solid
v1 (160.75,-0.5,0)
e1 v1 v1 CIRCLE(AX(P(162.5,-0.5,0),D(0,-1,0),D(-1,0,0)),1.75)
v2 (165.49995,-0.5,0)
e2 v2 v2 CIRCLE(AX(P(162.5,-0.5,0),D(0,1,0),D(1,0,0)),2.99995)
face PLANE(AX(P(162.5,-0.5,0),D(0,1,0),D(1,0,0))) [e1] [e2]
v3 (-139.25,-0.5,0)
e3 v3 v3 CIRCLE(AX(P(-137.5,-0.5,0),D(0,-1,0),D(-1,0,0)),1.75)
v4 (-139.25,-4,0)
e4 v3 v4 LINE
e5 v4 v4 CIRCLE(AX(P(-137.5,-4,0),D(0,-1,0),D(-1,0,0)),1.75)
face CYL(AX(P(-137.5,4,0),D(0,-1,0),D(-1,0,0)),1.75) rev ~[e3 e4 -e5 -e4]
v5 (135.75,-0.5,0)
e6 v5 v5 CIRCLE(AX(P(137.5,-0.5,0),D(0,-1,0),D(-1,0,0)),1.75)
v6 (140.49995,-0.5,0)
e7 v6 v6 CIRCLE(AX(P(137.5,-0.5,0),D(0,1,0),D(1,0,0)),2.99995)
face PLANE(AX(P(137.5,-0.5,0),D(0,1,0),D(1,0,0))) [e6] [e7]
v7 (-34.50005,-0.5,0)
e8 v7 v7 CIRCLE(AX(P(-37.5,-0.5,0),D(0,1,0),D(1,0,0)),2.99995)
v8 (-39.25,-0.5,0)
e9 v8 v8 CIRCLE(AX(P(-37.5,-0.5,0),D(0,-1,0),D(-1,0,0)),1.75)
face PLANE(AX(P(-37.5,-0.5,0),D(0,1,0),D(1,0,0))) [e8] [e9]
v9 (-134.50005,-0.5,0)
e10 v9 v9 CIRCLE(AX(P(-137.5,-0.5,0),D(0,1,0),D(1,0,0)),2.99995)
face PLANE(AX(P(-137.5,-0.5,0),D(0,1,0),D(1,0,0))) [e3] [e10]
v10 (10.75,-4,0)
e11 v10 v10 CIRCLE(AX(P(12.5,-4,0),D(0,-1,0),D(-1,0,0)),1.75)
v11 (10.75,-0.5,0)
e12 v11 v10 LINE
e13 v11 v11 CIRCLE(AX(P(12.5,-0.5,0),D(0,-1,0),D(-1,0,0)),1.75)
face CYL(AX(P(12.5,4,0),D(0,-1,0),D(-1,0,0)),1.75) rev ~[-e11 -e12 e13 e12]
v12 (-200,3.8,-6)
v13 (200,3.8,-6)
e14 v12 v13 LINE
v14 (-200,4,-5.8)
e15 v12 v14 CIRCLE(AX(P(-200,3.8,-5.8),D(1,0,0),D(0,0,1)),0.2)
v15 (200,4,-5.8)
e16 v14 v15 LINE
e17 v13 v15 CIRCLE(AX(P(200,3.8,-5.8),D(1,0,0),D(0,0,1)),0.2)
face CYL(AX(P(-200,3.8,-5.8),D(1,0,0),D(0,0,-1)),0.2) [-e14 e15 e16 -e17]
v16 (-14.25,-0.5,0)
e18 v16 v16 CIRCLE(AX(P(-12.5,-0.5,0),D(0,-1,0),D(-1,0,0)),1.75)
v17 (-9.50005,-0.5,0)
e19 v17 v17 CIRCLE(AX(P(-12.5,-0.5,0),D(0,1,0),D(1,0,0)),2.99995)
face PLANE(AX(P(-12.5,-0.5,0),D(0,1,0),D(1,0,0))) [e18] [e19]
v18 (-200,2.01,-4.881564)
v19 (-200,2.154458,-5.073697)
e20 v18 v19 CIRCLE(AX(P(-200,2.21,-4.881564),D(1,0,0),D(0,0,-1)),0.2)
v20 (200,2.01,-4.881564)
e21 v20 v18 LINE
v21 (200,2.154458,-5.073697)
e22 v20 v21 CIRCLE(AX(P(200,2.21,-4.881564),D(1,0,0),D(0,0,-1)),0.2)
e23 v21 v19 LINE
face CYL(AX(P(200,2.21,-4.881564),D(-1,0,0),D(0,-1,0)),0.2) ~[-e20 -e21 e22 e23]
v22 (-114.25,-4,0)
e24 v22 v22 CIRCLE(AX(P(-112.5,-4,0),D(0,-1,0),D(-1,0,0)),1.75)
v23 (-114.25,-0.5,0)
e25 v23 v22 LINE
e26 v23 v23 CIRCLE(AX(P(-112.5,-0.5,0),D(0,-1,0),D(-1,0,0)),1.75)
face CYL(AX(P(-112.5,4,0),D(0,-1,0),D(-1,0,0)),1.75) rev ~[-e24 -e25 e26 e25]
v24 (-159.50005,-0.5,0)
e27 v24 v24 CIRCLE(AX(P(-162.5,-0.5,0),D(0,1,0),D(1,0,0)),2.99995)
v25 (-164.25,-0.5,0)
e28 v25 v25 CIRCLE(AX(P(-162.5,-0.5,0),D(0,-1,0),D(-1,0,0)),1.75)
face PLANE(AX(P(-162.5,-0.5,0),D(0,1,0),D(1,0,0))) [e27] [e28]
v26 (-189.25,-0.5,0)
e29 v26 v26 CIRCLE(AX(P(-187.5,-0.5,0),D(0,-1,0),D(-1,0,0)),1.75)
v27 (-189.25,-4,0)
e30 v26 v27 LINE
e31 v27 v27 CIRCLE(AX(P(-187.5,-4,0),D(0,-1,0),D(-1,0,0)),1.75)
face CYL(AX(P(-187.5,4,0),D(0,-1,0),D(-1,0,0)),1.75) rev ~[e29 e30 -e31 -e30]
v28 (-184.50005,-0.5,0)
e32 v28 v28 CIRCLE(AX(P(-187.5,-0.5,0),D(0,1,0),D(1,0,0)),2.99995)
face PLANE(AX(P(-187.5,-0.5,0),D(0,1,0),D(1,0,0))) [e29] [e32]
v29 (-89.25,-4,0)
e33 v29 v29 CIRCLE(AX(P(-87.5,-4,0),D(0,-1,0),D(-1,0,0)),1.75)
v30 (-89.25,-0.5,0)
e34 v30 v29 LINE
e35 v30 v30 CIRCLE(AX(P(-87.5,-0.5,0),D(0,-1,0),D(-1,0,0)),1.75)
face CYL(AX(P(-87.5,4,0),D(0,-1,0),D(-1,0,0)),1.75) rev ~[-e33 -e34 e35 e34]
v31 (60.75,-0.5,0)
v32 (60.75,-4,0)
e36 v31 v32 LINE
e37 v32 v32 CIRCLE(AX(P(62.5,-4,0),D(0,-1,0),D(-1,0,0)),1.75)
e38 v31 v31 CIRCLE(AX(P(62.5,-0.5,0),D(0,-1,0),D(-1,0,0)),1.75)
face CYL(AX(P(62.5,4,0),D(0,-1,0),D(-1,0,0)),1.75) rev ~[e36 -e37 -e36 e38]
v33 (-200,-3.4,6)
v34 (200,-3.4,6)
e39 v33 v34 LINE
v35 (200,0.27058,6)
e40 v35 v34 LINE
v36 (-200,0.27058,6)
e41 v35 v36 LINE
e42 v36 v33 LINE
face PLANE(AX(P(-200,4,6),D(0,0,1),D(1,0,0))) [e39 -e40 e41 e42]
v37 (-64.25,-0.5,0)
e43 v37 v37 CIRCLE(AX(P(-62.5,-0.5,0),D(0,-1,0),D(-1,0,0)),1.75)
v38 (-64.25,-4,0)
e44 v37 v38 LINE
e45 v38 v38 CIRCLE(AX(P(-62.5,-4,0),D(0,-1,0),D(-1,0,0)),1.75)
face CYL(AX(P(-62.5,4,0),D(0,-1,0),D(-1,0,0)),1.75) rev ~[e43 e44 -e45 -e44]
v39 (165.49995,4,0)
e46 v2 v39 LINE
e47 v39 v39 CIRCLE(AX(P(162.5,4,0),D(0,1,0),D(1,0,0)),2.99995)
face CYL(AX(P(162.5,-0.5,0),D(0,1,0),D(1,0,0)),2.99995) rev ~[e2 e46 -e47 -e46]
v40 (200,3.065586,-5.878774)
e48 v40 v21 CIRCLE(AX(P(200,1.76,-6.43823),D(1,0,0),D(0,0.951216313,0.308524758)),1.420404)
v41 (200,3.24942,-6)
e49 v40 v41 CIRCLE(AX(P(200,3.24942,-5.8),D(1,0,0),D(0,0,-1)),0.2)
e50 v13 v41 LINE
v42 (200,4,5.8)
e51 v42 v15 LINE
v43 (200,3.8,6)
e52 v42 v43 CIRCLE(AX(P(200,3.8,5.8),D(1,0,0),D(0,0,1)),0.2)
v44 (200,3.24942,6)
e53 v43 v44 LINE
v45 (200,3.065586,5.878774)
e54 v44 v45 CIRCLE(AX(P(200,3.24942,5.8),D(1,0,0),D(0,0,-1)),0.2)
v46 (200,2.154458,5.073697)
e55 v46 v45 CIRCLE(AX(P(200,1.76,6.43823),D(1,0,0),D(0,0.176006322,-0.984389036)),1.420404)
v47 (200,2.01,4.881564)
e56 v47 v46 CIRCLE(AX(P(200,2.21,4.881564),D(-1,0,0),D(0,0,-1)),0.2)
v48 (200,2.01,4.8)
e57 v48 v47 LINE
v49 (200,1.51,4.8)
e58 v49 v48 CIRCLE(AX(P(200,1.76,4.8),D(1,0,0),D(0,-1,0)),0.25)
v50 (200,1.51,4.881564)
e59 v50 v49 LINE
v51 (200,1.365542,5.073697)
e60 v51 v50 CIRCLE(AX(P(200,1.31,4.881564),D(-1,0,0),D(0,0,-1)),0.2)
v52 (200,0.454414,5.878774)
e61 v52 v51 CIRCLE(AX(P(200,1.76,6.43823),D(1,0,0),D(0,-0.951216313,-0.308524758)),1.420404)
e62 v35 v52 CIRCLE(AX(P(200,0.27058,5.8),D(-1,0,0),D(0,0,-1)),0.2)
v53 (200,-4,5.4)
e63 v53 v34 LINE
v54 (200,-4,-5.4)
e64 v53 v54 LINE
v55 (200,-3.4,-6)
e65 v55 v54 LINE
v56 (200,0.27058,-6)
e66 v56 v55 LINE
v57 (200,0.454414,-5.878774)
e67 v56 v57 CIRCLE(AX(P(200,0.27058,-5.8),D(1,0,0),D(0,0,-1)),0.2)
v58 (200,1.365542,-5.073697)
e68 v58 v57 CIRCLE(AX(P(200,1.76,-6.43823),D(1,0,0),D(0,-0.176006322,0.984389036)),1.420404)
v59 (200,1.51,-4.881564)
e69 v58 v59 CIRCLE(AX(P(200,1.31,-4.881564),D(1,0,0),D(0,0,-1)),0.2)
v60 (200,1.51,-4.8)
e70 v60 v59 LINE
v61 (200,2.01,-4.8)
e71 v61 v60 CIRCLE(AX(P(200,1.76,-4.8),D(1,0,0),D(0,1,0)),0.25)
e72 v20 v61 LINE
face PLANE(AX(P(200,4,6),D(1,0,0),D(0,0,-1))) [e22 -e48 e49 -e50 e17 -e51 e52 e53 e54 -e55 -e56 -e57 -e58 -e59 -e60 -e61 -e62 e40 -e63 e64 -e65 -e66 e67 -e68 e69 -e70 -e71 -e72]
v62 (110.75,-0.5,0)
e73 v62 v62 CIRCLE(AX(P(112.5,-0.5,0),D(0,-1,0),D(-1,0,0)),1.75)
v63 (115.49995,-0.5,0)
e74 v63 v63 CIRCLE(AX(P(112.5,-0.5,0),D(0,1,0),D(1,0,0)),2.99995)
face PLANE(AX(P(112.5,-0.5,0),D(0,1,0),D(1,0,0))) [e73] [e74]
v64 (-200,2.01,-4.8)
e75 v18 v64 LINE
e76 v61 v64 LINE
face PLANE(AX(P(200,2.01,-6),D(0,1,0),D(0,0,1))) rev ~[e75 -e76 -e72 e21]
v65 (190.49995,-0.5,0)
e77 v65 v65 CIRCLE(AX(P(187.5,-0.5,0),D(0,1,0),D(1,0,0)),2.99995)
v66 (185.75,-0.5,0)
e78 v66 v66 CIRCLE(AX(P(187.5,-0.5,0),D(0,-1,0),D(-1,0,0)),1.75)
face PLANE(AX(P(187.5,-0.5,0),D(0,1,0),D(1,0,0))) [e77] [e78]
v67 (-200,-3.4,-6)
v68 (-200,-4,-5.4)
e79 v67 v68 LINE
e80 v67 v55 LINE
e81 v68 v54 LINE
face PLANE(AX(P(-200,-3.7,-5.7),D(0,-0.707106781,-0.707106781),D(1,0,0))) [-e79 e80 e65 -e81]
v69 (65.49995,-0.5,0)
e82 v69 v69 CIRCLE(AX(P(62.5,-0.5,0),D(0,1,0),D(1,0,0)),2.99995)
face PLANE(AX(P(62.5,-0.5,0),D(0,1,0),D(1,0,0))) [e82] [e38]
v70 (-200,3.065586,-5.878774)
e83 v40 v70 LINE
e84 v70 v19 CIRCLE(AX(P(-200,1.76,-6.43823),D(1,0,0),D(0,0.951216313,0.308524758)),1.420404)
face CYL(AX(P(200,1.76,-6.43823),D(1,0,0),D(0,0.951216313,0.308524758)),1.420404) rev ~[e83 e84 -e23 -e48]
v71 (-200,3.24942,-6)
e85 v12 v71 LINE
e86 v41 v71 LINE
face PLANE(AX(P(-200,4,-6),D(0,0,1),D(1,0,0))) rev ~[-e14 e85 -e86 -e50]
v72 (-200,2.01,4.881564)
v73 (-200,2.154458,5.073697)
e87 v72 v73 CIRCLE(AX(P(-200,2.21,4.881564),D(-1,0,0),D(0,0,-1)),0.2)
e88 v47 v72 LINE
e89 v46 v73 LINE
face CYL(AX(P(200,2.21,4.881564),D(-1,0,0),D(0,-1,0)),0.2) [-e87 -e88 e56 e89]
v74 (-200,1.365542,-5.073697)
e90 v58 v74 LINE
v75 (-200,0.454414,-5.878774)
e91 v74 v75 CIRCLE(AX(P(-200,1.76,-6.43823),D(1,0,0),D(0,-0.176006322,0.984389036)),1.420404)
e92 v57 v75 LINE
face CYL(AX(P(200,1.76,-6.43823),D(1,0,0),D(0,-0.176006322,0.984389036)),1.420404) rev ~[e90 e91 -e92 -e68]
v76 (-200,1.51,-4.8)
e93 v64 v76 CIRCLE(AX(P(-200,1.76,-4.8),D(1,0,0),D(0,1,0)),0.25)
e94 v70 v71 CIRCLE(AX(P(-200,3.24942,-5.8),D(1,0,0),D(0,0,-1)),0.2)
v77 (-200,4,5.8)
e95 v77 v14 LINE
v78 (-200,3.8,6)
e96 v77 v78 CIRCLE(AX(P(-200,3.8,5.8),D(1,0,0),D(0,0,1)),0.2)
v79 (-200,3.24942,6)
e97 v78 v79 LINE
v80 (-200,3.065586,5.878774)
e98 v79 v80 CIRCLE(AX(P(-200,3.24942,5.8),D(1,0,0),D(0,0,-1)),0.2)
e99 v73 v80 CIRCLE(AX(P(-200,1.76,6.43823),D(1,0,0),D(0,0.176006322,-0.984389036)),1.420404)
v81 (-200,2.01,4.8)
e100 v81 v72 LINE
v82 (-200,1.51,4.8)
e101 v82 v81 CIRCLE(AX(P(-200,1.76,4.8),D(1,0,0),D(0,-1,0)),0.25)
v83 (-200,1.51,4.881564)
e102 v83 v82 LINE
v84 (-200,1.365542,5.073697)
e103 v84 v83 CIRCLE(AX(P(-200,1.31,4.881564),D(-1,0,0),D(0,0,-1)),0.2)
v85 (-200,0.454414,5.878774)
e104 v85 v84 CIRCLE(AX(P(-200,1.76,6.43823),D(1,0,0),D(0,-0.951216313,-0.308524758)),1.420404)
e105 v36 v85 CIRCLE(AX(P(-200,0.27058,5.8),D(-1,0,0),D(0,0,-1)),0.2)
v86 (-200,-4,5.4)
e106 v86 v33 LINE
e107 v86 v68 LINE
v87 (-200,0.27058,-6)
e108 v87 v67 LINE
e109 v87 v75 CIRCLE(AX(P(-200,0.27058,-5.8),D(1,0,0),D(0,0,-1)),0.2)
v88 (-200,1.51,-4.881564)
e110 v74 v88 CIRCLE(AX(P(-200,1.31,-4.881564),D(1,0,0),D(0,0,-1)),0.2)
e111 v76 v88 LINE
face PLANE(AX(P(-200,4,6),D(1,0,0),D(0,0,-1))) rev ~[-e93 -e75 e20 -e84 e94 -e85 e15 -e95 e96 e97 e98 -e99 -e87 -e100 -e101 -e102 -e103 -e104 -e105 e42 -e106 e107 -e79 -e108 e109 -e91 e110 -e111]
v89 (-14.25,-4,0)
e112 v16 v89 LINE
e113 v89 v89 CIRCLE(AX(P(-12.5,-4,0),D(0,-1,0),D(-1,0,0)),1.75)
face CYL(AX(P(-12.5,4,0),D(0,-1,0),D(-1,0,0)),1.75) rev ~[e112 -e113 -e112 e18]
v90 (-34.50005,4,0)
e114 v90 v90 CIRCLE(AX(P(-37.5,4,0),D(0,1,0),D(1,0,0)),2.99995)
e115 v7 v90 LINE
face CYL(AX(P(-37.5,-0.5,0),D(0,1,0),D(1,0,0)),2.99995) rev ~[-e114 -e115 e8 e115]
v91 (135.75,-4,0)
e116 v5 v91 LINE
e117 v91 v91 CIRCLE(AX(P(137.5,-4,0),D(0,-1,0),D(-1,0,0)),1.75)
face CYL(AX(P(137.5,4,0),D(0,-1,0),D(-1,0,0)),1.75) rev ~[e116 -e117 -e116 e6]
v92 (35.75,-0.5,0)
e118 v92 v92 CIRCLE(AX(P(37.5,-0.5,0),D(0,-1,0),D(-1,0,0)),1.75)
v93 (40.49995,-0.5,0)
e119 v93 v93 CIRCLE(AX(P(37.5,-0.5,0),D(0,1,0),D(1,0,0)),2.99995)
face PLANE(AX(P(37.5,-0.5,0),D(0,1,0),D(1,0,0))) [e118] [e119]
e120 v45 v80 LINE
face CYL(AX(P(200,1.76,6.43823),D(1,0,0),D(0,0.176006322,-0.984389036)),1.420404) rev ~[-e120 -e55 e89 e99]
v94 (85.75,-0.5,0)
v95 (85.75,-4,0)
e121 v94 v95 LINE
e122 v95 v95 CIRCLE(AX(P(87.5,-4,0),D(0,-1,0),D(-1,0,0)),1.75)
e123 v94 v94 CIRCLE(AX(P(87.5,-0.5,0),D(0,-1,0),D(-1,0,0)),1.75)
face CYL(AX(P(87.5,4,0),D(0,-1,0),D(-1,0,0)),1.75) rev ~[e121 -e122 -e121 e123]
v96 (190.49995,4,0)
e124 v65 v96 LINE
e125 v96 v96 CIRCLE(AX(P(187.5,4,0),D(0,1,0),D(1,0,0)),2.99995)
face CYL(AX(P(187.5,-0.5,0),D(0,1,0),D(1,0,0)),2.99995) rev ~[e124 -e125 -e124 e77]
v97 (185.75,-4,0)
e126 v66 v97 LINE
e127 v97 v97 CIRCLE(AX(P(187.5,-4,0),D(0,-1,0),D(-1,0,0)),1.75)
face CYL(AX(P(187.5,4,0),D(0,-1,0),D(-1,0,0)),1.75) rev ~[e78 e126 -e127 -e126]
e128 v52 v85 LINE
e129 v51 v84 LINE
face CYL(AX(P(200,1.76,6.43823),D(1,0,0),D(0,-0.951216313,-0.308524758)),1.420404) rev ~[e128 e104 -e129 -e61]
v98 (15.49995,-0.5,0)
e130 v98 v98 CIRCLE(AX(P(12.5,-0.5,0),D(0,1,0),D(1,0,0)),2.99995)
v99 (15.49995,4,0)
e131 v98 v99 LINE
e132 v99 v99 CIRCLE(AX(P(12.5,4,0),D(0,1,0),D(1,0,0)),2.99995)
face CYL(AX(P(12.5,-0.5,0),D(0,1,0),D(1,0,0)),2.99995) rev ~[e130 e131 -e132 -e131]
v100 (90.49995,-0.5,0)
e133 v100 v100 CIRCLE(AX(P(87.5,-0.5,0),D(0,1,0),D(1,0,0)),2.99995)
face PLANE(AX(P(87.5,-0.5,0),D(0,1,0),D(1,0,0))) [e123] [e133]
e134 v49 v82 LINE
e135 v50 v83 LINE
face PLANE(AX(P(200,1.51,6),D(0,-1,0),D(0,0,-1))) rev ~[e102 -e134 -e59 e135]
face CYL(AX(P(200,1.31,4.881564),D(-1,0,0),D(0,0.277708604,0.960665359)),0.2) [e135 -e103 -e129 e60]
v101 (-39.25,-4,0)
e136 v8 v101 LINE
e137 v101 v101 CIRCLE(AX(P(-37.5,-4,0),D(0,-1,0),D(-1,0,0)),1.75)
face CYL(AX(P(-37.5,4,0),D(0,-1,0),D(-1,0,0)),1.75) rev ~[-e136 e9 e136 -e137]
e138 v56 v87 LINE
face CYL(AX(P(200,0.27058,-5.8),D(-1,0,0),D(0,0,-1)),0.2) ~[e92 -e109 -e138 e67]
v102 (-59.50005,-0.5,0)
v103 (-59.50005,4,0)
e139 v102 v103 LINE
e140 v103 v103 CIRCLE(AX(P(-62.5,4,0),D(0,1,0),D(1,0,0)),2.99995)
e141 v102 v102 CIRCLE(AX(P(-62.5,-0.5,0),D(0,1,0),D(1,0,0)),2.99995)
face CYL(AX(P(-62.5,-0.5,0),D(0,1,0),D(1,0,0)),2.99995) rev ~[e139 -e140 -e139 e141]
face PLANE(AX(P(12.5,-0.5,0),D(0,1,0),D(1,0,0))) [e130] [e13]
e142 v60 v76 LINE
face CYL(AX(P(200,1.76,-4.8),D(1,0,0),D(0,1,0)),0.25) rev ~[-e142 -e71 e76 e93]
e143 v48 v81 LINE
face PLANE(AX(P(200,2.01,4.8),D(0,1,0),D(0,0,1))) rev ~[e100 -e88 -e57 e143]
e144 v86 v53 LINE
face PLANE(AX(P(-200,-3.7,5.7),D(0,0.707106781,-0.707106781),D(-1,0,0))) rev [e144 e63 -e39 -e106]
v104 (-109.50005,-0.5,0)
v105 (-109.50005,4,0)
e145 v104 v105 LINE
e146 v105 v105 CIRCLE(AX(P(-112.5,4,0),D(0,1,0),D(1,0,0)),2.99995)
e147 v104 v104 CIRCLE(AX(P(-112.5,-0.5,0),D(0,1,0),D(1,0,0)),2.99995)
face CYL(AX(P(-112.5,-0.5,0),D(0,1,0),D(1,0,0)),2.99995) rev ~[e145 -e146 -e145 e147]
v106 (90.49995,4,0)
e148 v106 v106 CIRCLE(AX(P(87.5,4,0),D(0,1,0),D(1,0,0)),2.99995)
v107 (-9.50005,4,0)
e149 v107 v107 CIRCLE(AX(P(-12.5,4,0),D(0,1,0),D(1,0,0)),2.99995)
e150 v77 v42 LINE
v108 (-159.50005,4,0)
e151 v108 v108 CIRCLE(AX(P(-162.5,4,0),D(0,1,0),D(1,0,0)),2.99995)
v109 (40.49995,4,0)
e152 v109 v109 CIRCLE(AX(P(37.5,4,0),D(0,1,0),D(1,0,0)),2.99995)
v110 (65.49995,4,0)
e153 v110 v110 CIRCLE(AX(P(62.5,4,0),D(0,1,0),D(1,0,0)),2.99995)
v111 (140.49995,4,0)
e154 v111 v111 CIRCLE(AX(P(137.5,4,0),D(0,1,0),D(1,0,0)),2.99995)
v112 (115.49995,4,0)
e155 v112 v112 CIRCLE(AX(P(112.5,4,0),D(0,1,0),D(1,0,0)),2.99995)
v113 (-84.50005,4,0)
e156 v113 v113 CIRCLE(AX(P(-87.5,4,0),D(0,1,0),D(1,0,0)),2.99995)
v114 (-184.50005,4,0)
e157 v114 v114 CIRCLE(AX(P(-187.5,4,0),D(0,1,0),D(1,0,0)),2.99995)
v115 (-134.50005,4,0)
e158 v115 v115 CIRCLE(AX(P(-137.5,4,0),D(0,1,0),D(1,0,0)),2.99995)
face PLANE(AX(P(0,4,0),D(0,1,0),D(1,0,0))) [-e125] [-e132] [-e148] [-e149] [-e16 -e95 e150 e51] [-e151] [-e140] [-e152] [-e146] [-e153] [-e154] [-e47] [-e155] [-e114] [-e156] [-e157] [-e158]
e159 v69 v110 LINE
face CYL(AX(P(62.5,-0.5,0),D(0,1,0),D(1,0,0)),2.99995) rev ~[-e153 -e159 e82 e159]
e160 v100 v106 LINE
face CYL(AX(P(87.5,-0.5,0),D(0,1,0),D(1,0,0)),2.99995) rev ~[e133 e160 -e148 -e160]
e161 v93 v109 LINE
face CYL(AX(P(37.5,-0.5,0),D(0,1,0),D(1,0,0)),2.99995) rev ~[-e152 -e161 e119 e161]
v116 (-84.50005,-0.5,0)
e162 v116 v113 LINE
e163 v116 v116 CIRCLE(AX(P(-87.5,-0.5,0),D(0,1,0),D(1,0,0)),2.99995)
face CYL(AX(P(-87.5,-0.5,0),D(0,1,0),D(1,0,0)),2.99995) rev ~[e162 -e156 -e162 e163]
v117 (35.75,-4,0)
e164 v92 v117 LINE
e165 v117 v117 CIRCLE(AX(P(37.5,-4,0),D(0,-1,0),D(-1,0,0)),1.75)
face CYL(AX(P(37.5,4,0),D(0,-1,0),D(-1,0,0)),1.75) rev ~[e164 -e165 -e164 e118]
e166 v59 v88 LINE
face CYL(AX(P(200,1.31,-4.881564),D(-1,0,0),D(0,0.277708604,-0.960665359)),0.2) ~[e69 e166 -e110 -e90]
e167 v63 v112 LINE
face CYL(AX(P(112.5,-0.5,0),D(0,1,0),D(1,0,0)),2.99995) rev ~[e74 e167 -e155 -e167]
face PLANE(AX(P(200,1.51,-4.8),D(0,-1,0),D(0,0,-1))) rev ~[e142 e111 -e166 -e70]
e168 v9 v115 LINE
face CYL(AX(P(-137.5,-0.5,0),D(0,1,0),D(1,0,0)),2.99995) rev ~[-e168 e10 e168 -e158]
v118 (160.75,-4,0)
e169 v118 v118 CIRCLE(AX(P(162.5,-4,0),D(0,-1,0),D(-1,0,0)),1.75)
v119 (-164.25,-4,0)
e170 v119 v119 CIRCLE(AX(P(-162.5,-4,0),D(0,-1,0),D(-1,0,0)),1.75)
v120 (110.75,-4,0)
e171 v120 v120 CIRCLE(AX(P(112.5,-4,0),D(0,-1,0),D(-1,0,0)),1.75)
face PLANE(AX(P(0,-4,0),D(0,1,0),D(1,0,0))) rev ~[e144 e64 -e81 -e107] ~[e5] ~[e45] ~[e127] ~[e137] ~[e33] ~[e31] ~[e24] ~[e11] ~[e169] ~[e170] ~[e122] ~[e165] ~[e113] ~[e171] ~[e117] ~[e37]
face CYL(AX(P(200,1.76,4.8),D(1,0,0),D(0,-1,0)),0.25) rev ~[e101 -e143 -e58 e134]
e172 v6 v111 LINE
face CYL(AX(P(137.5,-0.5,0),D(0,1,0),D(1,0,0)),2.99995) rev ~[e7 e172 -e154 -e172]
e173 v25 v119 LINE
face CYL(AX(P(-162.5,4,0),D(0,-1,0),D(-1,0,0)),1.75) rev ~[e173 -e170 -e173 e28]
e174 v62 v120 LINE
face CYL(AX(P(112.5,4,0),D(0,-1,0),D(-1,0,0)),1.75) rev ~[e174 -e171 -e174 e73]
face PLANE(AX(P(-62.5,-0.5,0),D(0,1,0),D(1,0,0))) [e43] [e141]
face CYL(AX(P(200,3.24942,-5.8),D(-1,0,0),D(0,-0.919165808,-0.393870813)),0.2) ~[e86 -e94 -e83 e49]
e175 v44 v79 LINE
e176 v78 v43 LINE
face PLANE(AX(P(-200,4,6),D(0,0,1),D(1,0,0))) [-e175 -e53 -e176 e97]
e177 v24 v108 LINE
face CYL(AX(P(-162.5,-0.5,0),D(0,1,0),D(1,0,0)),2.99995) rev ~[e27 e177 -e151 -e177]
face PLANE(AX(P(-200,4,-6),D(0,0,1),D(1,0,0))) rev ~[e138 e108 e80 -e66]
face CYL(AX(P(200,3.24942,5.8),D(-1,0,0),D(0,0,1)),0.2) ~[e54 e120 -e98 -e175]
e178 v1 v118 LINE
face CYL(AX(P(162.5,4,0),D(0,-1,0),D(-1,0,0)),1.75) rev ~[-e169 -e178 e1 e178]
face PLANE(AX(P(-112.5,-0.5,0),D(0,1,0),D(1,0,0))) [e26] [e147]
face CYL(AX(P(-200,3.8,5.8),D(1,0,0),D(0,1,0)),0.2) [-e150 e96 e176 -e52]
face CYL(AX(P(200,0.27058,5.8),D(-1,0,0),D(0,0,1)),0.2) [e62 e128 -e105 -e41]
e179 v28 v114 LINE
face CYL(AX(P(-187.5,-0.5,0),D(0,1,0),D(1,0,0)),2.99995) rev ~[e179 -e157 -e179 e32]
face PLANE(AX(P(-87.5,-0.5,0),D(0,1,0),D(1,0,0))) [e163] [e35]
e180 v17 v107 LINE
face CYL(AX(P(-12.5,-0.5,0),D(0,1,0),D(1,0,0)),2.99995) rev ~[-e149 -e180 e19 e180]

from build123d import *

# Parameters (mm, degrees)
SKETCH_1_W                   = 400
SKETCH_1_H                   = 12
EXTRUDE_1_DEPTH              = 8
CUT_EXTRUDE_1_DEPTH          = 401.06499472
CUT_EXTRUDE_2_DEPTH          = 401.06499472
CUT_EXTRUDE_3_DEPTH          = 401.06499472
CUT_EXTRUDE_4_DEPTH          = 401.06499472
CUT_EXTRUDE_5_DEPTH          = 401.06499472
CUT_EXTRUDE_6_DEPTH          = 401.06499472
HOLE_WIZARD_M3_1_D           = 3.5
HOLE_WIZARD_M3_1_CBORE_D     = 5.9999
HOLE_WIZARD_M3_1_CBORE_DEPTH = 4.5
CHAMFER_1_SIZE               = 0.6
FILLET_1_R                   = 0.2


with BuildPart() as part:
    # 草图1 → 凸台-拉伸1 (new body)
    with BuildSketch(Plane(origin=(0, 4, 0), x_dir=(1, 0, 0), z_dir=(0, 1, 0))):
        Rectangle(SKETCH_1_W, SKETCH_1_H)
    extrude(amount=-EXTRUDE_1_DEPTH)

    # 草图2 → 切除-拉伸1 (cut, through all)
    with BuildSketch(Plane(origin=(200, 0, 0), x_dir=(0, 0, -1), z_dir=(1, 0, 0))):
        with BuildLine():
            Line((6, 1.51), (6, 2.01))
            Line((6, 2.01), (4.8, 2.01))
            ThreePointArc((4.8, 2.01), (4.55, 1.76), (4.8, 1.51))
            Line((4.8, 1.51), (6, 1.51))
        make_face()
    extrude(amount=-CUT_EXTRUDE_1_DEPTH, mode=Mode.SUBTRACT)

    # 草图3 → 切除-拉伸2 (cut, through all)
    with BuildSketch(Plane(origin=(200, 0, 0), x_dir=(0, 0, -1), z_dir=(1, 0, 0))):
        with BuildLine():
            Line((6, 2.01), (6, 3.111111))
            ThreePointArc((6, 3.111111), (5.367595703, 2.693428684), (5.04, 2.01))
            Line((5.04, 2.01), (6, 2.01))
        make_face()
    extrude(amount=-CUT_EXTRUDE_2_DEPTH, mode=Mode.SUBTRACT)

    # 草图4 → 切除-拉伸3 (cut, through all)
    with BuildSketch(Plane(origin=(200, 0, 0), x_dir=(0, 0, -1), z_dir=(1, 0, 0))):
        with BuildLine():
            Line((6, 1.51), (5.04, 1.51))
            ThreePointArc((5.04, 1.51), (5.367595703, 0.826571316), (6, 0.408889))
            Line((6, 0.408889), (6, 1.51))
        make_face()
    extrude(amount=-CUT_EXTRUDE_3_DEPTH, mode=Mode.SUBTRACT)

    # 草图5 → 切除-拉伸4 (cut, through all)
    with BuildSketch(Plane(origin=(200, 0, 0), x_dir=(0, 0, -1), z_dir=(1, 0, 0))):
        with BuildLine():
            Line((-6, 2.01), (-6, 1.51))
            Line((-6, 1.51), (-4.8, 1.51))
            ThreePointArc((-4.8, 1.51), (-4.55, 1.76), (-4.8, 2.01))
            Line((-4.8, 2.01), (-6, 2.01))
        make_face()
    extrude(amount=-CUT_EXTRUDE_4_DEPTH, mode=Mode.SUBTRACT)

    # 草图6 → 切除-拉伸5 (cut, through all)
    with BuildSketch(Plane(origin=(200, 0, 0), x_dir=(0, 0, -1), z_dir=(1, 0, 0))):
        with BuildLine():
            Line((-6, 1.51), (-6, 0.408889))
            ThreePointArc((-6, 0.408889), (-5.367595703, 0.826571316), (-5.04, 1.51))
            Line((-5.04, 1.51), (-6, 1.51))
        make_face()
    extrude(amount=-CUT_EXTRUDE_5_DEPTH, mode=Mode.SUBTRACT)

    # 草图7 → 切除-拉伸6 (cut, through all)
    with BuildSketch(Plane(origin=(200, 0, 0), x_dir=(0, 0, -1), z_dir=(1, 0, 0))):
        with BuildLine():
            Line((-6, 2.01), (-5.04, 2.01))
            ThreePointArc((-5.04, 2.01), (-5.367595703, 2.693428684), (-6, 3.111111))
            Line((-6, 3.111111), (-6, 2.01))
        make_face()
    extrude(amount=-CUT_EXTRUDE_6_DEPTH, mode=Mode.SUBTRACT)

    # M3 六角头机械螺钉的柱形沉头孔1 (through all)
    with Locations(Plane(origin=(0, 4, 0), x_dir=(1, 0, 0), z_dir=(0, 1, 0))):
        with Locations((-187.5, 0), (-162.5, 0), (-137.5, 0), (-112.5, 0), (-87.5, 0), (-62.5, 0), (-37.5, 0), (-12.5, 0), (12.5, 0), (37.5, 0), (62.5, 0), (87.5, 0), (112.5, 0), (137.5, 0), (162.5, 0), (187.5, 0)):
            CounterBoreHole(HOLE_WIZARD_M3_1_D / 2, HOLE_WIZARD_M3_1_CBORE_D / 2, HOLE_WIZARD_M3_1_CBORE_DEPTH)

    # 倒角1
    chamfer_1_edges = [part.edges().sort_by_distance(p)[0] for p in [
        (0, -4, -6),
        (0, -4, 6),
    ]]
    chamfer(chamfer_1_edges, length=CHAMFER_1_SIZE)

    # 圆角1
    fillet_1_edges = [part.edges().sort_by_distance(p)[0] for p in [
        (0, 2.01, -5.04),
        (0, 3.111111, -6),
        (0, 0.408889, -6),
        (0, 1.51, -5.04),
        (0, 4, -6),
        (0, 4, 6),
        (0, 1.51, 5.04),
        (0, 0.408889, 6),
        (0, 3.111111, 6),
        (0, 2.01, 5.04),
    ]]
    fillet(fillet_1_edges, radius=FILLET_1_R)


solid = part.part
